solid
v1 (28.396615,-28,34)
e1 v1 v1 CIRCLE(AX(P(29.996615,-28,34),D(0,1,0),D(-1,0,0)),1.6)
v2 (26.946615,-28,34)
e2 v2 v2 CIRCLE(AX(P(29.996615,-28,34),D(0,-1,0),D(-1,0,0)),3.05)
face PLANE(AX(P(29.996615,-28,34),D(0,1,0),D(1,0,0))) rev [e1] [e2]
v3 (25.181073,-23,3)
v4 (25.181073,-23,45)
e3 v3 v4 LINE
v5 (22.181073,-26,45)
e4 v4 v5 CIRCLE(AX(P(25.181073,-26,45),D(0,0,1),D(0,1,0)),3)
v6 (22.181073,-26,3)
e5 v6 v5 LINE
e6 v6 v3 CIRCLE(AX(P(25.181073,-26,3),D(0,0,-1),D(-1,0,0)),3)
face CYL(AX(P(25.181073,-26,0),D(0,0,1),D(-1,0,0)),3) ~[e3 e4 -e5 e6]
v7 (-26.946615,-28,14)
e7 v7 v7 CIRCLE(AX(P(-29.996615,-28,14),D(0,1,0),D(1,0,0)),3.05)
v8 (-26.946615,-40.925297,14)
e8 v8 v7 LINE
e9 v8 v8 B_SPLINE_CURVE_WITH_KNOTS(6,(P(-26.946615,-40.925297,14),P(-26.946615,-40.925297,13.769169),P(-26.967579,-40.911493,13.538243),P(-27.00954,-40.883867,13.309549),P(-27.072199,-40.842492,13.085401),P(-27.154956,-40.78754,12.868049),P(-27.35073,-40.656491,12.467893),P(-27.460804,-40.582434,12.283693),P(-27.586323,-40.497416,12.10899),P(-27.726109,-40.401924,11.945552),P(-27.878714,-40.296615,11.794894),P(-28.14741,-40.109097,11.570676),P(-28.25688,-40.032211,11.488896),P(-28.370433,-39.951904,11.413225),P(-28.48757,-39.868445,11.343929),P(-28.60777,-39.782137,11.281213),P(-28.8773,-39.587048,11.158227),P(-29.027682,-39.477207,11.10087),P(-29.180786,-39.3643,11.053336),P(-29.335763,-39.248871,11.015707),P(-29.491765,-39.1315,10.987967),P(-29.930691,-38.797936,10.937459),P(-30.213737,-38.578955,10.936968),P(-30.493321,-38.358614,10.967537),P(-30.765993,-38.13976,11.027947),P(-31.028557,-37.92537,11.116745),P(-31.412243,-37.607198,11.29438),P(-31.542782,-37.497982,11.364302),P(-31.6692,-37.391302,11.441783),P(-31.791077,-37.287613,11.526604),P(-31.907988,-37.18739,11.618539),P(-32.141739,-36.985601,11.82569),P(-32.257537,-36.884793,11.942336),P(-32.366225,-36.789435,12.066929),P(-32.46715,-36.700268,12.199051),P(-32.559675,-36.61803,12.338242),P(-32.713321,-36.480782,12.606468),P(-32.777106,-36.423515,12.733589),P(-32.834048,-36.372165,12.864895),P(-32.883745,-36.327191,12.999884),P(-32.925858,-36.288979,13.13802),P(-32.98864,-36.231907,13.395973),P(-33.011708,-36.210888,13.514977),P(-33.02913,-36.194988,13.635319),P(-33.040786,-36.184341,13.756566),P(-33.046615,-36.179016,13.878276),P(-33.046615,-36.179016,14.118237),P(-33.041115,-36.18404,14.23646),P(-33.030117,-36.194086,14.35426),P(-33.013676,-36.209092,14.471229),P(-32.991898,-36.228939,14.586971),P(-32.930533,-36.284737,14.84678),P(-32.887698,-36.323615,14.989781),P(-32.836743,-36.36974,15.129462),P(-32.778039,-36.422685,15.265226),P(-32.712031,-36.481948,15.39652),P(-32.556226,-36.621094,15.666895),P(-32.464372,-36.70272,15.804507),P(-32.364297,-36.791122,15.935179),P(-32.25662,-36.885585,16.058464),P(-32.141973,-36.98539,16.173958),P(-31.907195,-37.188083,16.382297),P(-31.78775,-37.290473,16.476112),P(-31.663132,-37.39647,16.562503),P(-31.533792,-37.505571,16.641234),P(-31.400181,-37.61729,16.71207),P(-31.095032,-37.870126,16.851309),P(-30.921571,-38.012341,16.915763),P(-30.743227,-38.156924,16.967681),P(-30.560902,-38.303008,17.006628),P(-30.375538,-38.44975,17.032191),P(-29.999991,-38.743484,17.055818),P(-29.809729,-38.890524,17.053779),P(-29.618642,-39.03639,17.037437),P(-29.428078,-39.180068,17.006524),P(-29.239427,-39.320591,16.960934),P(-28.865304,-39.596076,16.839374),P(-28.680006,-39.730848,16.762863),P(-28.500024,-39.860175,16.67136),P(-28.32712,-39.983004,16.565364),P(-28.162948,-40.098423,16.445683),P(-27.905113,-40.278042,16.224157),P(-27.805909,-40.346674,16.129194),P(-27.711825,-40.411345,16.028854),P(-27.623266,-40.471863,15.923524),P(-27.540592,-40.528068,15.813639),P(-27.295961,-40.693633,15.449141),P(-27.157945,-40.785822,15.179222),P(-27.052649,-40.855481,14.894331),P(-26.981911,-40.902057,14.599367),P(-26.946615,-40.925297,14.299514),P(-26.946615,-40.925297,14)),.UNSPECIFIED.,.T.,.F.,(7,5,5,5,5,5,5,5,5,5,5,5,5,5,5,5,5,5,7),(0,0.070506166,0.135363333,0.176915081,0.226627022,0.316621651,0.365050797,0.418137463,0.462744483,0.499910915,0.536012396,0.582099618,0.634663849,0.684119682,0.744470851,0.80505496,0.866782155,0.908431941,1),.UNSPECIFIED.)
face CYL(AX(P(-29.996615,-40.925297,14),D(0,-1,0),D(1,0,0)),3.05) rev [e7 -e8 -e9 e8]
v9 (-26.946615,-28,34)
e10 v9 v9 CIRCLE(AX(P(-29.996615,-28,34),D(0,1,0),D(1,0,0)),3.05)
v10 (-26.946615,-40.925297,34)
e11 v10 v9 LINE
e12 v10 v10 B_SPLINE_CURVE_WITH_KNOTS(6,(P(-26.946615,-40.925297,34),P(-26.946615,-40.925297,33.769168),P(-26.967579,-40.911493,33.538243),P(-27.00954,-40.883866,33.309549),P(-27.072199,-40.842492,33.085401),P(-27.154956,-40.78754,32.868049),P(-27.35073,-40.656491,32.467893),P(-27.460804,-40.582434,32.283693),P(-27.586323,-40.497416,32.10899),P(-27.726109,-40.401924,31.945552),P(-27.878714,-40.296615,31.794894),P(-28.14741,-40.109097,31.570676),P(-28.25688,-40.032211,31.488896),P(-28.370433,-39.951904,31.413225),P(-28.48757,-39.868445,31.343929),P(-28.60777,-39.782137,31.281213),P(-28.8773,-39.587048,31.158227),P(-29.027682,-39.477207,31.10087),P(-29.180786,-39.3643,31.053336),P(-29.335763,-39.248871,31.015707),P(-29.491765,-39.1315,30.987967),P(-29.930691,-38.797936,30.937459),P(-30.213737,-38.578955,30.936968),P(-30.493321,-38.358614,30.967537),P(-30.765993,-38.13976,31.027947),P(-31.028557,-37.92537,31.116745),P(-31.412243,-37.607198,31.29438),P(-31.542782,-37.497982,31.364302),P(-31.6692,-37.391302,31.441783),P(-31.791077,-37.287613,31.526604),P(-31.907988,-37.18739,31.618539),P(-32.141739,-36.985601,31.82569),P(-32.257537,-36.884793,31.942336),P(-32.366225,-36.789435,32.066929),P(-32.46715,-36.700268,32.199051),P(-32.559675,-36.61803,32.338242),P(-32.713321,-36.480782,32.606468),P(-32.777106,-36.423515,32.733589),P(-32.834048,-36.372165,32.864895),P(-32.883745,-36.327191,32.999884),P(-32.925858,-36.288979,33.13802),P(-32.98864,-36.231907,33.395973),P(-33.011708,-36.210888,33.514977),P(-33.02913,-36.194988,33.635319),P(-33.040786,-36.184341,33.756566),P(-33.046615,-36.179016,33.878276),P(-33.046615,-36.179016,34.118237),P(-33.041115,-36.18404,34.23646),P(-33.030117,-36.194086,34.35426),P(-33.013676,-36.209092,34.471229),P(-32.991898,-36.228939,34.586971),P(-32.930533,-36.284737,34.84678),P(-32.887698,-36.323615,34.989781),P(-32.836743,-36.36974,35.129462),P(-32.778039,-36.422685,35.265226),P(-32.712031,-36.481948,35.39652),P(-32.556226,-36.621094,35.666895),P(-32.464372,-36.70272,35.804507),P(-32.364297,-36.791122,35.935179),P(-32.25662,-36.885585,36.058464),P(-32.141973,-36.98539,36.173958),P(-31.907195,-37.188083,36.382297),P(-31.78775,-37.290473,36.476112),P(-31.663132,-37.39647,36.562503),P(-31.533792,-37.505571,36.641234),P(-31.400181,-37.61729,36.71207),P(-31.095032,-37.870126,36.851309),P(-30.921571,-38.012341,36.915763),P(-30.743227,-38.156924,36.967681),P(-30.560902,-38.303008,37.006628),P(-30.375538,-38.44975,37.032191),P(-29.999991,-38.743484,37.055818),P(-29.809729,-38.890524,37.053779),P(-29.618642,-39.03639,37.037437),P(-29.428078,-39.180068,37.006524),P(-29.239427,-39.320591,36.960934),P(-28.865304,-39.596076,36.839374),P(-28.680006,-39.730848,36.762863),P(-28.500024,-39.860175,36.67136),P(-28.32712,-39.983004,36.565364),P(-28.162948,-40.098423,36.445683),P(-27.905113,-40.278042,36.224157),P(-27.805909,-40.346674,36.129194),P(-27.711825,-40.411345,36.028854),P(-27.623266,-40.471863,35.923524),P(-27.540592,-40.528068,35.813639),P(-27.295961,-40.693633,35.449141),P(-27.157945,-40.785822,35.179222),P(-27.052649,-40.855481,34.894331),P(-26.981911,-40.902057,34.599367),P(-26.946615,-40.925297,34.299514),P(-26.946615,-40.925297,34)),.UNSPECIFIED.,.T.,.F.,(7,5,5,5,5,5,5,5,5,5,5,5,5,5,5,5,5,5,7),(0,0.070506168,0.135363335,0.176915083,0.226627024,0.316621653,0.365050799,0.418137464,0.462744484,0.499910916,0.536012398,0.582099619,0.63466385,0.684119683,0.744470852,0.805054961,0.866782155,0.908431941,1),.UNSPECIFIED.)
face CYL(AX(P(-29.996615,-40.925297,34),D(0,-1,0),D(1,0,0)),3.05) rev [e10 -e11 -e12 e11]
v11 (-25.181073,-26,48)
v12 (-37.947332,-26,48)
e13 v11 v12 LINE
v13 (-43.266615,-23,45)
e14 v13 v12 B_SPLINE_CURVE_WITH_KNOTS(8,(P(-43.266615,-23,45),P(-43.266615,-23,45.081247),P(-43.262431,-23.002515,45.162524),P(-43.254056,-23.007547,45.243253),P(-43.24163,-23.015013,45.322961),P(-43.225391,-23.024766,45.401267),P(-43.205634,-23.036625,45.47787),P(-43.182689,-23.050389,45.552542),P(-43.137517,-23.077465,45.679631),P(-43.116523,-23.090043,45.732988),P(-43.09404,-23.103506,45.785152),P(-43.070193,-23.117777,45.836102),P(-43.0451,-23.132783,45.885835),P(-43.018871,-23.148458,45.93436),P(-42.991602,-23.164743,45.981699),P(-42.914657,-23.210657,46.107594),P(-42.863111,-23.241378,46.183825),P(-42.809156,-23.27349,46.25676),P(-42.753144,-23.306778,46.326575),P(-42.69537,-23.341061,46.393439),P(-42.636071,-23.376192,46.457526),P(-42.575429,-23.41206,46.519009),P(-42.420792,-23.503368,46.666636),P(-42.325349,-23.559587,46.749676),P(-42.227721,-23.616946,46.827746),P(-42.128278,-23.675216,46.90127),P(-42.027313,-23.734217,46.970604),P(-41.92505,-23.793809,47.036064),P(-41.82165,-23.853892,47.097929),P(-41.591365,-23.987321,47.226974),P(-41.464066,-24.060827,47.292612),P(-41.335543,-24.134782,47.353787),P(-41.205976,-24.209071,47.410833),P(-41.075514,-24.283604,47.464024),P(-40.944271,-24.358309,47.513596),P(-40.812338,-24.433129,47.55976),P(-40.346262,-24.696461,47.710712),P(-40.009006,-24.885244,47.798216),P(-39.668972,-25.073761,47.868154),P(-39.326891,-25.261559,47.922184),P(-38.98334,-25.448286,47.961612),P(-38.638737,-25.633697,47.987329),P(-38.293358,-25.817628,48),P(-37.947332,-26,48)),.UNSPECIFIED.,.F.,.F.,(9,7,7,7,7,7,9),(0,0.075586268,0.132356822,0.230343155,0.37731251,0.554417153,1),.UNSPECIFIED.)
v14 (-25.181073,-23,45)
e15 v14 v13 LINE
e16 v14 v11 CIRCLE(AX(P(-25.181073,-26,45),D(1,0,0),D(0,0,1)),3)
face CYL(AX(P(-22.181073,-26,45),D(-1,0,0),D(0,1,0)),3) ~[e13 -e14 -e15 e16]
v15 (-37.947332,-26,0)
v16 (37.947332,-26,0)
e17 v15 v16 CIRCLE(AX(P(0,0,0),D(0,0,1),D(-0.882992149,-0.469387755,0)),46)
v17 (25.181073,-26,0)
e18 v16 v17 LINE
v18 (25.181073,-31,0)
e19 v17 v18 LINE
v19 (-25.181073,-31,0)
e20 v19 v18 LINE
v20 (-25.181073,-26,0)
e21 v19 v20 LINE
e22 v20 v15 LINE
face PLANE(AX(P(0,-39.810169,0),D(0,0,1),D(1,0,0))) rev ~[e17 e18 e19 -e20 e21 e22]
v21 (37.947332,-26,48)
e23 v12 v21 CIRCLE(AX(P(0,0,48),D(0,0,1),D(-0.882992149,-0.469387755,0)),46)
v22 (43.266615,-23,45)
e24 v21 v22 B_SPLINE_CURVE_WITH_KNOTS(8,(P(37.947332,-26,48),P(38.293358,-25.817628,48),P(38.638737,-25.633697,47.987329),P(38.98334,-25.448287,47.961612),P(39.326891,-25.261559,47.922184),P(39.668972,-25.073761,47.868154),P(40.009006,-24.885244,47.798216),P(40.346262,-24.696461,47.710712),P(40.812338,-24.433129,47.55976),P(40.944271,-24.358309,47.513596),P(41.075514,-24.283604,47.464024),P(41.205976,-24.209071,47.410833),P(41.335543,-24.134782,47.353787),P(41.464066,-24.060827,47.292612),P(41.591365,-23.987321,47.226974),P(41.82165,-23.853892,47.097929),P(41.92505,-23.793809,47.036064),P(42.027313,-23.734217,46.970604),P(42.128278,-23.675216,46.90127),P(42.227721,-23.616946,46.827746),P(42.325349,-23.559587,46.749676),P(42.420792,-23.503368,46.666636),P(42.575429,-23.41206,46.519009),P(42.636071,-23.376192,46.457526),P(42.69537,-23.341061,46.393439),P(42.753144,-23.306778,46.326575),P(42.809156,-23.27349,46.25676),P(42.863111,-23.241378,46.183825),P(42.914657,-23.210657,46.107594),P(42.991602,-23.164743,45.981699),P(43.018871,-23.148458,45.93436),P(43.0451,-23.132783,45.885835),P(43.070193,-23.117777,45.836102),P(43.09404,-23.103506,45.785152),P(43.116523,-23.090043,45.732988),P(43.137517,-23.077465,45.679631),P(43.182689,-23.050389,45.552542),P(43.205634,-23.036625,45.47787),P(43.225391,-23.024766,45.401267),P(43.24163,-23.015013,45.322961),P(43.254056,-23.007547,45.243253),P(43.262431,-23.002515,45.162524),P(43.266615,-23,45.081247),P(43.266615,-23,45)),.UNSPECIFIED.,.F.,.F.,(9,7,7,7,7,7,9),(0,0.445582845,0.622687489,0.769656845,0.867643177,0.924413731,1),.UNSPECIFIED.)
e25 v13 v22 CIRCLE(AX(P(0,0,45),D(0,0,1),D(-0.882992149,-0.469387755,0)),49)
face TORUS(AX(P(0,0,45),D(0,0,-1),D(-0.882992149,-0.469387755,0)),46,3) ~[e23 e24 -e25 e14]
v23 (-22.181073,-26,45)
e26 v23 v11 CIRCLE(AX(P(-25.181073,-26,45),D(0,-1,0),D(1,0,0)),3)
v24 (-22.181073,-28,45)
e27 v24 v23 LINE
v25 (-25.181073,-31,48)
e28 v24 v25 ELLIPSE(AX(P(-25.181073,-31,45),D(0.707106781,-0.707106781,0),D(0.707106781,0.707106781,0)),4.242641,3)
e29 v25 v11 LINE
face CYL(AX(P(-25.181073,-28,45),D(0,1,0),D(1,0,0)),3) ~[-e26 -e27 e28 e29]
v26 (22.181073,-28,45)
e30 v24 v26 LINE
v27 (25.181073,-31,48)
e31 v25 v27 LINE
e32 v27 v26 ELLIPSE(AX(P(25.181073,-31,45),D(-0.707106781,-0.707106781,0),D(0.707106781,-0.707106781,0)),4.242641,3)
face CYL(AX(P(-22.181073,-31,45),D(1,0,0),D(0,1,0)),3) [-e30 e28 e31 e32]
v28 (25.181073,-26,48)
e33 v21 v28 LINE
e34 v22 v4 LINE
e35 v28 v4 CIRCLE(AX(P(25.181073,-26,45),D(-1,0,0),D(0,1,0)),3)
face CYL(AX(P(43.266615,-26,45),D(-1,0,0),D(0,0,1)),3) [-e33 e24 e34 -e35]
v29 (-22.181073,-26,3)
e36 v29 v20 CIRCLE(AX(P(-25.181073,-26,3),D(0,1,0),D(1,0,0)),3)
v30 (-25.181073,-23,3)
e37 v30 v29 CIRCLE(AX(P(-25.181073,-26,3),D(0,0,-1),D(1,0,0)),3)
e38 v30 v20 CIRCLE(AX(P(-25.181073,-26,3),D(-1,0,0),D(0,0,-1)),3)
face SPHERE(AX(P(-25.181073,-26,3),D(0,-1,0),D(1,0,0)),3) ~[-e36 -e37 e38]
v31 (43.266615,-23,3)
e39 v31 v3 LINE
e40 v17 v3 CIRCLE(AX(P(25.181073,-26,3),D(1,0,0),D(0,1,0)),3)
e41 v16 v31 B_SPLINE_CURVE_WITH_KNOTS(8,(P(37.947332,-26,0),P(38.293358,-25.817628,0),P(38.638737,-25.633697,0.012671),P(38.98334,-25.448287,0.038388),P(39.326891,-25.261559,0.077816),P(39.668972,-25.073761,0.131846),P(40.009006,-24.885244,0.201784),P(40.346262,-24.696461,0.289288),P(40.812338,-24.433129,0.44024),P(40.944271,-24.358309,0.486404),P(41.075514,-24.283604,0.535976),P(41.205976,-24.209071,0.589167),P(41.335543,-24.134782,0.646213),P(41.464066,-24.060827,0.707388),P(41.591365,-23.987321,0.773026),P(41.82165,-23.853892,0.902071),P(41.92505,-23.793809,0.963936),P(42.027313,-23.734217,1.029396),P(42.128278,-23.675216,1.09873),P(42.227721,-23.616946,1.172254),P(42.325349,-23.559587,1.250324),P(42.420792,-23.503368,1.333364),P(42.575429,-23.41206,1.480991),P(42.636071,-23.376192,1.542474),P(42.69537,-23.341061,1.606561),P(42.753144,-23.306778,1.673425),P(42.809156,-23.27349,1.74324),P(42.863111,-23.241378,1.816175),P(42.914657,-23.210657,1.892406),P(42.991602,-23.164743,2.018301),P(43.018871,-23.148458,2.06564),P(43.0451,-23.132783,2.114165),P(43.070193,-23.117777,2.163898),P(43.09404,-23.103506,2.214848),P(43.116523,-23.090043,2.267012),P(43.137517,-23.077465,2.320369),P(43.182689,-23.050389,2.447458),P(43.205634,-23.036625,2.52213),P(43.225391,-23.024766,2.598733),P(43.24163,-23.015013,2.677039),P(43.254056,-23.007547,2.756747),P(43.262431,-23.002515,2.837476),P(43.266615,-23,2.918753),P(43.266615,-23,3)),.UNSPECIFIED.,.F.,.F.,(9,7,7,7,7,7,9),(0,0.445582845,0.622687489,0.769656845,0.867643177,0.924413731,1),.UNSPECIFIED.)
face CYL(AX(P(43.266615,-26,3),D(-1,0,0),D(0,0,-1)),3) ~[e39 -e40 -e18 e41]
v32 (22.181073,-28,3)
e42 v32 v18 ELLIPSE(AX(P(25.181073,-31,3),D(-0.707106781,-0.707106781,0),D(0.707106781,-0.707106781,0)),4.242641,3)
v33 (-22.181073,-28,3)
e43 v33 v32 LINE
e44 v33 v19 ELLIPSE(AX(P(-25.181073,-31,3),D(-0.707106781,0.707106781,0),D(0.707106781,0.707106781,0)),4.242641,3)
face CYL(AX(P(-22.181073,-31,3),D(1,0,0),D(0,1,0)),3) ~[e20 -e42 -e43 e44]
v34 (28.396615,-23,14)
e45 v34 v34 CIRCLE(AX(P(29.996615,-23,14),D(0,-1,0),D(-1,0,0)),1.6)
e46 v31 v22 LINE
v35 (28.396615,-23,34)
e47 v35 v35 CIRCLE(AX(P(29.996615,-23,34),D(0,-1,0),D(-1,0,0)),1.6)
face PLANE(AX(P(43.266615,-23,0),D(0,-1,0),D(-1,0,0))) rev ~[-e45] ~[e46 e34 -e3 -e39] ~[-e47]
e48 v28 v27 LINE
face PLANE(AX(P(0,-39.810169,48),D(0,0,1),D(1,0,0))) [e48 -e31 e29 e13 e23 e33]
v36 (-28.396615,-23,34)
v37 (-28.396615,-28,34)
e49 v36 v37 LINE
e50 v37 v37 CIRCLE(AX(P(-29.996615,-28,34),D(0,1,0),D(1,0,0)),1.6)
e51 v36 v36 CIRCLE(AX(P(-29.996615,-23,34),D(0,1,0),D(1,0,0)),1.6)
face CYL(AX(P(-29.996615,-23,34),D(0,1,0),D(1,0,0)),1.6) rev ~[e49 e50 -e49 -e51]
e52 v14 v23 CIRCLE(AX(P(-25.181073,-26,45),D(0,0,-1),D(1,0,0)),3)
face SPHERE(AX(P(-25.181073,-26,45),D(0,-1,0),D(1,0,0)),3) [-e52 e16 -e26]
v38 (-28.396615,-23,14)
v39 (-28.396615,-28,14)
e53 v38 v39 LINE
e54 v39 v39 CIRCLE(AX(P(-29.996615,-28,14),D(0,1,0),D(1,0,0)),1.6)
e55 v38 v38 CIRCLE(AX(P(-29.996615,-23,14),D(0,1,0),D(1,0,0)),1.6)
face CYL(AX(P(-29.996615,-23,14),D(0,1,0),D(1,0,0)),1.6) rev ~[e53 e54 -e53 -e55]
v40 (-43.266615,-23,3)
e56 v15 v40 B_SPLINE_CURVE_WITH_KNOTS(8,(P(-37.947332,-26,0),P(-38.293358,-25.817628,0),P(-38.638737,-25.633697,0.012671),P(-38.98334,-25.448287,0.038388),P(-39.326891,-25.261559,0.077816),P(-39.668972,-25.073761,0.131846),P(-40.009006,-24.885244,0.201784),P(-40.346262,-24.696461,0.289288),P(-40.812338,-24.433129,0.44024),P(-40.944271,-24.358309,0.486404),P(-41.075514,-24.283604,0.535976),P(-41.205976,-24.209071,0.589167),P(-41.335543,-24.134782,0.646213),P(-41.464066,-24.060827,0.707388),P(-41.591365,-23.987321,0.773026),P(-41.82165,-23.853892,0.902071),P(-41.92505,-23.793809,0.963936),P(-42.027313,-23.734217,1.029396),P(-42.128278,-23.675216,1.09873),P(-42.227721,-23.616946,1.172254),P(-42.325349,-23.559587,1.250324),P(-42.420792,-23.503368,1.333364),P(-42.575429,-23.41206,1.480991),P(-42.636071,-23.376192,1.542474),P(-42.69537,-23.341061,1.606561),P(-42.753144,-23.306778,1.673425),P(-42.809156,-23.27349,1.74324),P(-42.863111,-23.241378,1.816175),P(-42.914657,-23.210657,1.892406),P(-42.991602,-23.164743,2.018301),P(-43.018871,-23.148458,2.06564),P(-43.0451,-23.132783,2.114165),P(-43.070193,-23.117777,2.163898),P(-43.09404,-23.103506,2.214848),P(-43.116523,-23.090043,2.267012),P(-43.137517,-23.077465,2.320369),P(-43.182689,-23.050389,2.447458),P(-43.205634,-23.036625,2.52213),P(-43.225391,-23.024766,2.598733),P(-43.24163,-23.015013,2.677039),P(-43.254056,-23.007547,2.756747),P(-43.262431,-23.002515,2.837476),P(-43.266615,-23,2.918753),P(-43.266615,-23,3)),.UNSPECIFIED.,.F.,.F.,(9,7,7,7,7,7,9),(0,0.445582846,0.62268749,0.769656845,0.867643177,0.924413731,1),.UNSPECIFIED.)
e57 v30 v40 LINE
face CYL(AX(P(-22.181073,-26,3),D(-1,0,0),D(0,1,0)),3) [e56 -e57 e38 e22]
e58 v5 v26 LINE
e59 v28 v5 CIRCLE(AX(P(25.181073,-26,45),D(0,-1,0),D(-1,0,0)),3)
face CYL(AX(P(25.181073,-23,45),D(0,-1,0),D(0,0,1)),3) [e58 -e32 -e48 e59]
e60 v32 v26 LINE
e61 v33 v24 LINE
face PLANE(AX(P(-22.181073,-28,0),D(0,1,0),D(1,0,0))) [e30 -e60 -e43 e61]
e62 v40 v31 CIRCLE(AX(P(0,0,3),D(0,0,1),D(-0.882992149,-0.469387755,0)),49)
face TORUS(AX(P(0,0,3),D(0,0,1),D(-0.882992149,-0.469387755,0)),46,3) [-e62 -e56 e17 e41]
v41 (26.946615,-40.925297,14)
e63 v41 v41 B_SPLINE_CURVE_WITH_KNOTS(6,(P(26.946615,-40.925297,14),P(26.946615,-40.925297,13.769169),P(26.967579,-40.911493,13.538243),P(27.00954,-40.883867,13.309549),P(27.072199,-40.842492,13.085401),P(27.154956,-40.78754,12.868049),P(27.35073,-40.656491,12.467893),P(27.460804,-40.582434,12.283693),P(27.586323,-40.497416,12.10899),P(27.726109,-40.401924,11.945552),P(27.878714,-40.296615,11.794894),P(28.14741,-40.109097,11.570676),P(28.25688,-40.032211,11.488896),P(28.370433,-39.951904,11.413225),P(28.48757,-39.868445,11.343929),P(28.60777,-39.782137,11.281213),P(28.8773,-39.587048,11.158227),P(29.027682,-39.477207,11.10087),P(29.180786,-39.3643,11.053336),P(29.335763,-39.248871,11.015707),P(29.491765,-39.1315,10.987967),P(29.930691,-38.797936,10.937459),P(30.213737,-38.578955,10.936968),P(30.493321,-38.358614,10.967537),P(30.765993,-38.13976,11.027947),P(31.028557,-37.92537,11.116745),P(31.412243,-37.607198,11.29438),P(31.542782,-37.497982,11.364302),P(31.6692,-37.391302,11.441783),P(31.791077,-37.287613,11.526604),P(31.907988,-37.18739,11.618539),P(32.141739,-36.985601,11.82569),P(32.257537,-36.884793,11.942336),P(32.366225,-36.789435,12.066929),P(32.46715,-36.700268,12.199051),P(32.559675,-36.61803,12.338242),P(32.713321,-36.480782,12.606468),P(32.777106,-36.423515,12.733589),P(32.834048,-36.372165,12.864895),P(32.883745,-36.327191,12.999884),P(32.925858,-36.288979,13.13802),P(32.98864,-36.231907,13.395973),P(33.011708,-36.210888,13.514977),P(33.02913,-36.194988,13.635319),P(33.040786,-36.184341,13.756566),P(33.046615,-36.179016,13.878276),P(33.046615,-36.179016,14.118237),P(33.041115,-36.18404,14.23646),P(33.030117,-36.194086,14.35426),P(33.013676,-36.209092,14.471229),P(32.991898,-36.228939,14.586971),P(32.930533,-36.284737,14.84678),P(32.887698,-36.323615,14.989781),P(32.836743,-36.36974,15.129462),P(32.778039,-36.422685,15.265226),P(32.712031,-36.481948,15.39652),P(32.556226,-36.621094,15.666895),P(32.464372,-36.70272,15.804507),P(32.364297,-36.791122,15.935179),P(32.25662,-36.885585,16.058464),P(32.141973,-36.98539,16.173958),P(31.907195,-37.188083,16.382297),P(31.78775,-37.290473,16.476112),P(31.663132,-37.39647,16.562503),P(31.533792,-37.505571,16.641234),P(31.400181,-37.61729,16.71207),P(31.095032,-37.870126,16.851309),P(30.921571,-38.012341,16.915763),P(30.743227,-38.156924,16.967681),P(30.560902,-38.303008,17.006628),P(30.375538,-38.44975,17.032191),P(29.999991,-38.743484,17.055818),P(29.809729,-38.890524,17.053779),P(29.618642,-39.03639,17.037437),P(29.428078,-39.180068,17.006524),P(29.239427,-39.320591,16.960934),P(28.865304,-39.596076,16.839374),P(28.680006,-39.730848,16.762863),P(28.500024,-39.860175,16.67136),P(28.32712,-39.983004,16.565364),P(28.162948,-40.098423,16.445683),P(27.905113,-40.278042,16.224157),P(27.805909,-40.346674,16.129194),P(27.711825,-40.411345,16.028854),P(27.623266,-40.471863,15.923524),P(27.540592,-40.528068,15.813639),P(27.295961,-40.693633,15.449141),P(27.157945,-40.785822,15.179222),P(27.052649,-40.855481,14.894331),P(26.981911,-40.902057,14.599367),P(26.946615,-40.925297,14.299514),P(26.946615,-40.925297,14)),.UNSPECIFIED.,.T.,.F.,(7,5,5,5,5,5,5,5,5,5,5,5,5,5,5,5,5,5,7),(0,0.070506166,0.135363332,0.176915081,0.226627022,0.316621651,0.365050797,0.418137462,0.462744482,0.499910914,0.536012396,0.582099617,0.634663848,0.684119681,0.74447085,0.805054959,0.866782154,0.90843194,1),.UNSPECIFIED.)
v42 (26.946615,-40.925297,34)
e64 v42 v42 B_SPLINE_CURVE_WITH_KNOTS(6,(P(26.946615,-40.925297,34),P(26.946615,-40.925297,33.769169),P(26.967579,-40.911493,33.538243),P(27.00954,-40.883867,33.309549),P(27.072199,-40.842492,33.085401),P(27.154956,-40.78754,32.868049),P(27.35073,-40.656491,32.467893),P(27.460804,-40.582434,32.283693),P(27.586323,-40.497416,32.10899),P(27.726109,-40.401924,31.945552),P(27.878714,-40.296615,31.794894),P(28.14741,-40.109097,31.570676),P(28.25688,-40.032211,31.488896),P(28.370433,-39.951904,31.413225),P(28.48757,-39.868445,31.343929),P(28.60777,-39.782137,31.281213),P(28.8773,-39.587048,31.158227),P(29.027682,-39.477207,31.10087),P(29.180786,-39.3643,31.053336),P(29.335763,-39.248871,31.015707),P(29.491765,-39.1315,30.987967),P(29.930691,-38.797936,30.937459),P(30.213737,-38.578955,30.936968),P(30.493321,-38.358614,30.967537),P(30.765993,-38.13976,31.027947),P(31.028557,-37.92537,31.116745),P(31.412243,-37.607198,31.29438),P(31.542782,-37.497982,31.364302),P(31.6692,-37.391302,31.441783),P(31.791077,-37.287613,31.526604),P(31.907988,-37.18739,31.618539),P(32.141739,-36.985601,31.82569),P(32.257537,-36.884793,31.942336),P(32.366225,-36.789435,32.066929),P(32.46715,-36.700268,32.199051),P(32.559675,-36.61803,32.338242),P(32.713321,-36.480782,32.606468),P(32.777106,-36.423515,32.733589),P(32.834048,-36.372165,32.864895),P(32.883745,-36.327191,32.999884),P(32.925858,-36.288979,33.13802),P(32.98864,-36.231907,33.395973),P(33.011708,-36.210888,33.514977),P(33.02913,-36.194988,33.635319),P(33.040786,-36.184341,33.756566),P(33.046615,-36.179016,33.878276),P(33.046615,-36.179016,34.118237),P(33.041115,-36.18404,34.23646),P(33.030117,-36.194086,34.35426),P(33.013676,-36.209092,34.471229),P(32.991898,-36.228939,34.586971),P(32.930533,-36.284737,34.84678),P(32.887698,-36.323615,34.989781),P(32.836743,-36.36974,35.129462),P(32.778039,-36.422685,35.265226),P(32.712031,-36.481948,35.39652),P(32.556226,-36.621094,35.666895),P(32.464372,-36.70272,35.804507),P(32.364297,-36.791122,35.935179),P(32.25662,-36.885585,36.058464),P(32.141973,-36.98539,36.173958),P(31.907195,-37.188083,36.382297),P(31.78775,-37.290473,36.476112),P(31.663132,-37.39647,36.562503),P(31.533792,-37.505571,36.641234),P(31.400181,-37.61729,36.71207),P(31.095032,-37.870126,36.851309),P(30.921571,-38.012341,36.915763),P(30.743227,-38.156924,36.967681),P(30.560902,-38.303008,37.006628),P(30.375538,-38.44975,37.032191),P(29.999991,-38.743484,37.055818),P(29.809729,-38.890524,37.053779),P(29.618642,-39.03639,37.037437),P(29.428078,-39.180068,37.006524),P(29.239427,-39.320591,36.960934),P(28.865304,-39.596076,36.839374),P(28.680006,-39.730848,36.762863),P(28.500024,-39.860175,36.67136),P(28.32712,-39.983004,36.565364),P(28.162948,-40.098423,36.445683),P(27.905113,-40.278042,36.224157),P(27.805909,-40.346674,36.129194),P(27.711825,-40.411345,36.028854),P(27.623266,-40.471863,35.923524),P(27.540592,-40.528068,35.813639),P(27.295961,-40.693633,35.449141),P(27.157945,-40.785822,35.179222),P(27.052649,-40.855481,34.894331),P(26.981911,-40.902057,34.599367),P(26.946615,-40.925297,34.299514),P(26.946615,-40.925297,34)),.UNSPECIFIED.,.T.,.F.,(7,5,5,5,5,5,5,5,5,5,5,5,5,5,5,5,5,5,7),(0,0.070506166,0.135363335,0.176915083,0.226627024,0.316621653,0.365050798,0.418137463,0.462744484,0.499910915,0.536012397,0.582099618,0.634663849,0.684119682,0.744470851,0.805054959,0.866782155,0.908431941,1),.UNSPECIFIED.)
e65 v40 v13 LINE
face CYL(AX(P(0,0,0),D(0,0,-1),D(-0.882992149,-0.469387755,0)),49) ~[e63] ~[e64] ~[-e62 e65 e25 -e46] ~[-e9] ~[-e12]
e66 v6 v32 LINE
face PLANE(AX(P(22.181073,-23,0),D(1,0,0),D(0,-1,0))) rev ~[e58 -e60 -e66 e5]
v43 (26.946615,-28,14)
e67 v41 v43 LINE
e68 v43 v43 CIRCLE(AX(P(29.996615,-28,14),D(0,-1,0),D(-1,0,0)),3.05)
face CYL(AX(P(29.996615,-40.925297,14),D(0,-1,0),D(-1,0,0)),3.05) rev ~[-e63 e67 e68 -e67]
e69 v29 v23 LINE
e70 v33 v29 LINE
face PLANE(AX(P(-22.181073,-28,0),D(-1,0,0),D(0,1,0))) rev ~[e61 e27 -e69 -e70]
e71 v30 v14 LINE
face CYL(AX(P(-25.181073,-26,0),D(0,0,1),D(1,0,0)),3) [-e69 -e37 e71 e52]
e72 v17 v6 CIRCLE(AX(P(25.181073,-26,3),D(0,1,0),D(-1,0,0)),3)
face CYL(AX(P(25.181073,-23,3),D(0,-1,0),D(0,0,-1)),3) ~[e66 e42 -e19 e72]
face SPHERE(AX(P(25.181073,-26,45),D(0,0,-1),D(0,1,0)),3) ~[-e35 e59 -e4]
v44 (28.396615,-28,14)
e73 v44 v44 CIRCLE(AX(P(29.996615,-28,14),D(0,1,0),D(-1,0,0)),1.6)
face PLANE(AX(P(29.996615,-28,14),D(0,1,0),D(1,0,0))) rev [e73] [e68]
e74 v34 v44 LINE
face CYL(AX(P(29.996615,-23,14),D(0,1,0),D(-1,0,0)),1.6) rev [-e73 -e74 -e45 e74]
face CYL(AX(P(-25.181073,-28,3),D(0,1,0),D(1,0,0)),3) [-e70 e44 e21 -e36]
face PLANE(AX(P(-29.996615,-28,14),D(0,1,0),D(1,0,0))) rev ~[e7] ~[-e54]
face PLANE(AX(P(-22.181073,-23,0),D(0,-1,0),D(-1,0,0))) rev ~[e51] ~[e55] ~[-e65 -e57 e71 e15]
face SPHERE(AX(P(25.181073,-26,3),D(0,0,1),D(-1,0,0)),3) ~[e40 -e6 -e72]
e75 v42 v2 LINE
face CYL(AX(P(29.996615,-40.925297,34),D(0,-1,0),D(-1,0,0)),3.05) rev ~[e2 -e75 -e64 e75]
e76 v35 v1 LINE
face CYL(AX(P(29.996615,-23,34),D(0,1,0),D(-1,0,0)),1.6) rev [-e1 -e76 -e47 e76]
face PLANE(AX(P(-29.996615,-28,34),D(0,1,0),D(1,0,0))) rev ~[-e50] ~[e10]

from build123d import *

# Parameters (mm, degrees)
SKETCH1_W           = 44.362146026
SKETCH1_H           = 10
BOSS_EXTRUDE1_DEPTH = 48
SKETCH2_R           = 1.6
CUT_EXTRUDE1_DEPTH  = 27
CUT_EXTRUDE2_START  = -17.925297
SKETCH3_R           = 3.05
CUT_EXTRUDE2_DEPTH  = 12.925297
FILLET1_R           = 3


with BuildPart() as part:
    # Sketch1 → Boss-Extrude1 (new body)
    with BuildSketch(Plane.XY):
        with BuildLine():
            Line((22.181073013, -38), (-22.181073013, -38))
            ThreePointArc((-22.181073013, -38), (0, -44), (22.181073013, -38))
        make_face()
        with BuildLine():
            Line((-37.509998667, -23), (-43.266615306, -23))
            ThreePointArc((-43.266615306, -23), (0, -49), (43.266615306, -23))
            Line((43.266615306, -23), (37.509998667, -23))
            ThreePointArc((37.509998667, -23), (35.812927639, -25.562359318), (33.941125497, -28))
            ThreePointArc((33.941125497, -28), (28.503075122, -33.519765939), (22.181073013, -38))
            ThreePointArc((22.181073013, -38), (0, -44), (-22.181073013, -38))
            ThreePointArc((-22.181073013, -38), (-28.503075122, -33.519765939), (-33.941125497, -28))
            ThreePointArc((-33.941125497, -28), (-35.812927639, -25.562359318), (-37.509998667, -23))
        make_face()
        with BuildLine():
            Line((-29.953929645, -23), (-37.509998667, -23))
            ThreePointArc((-37.509998667, -23), (-35.812927639, -25.562359318), (-33.941125497, -28))
            Line((-33.941125497, -28), (-22.181073013, -28))
            Line((-22.181073013, -28), (-22.181073013, -23))
            Line((-22.181073013, -23), (-29.953929645, -23))
        make_face()
        with BuildLine():
            Line((-22.181073013, -28), (-33.941125497, -28))
            ThreePointArc((-33.941125497, -28), (-28.503075122, -33.519765939), (-22.181073013, -38))
            Line((-22.181073013, -38), (-22.181073013, -28))
        make_face()
        with BuildLine():
            ThreePointArc((33.941125497, -28), (35.812927639, -25.562359318), (37.509998667, -23))
            Line((37.509998667, -23), (22.181073013, -23))
            Line((22.181073013, -23), (22.181073013, -28))
            Line((22.181073013, -28), (33.941125497, -28))
        make_face()
        with BuildLine():
            ThreePointArc((22.181073013, -38), (28.503075122, -33.519765939), (33.941125497, -28))
            Line((33.941125497, -28), (22.181073013, -28))
            Line((22.181073013, -28), (22.181073013, -38))
        make_face()
        with Locations((0, -33)):
            Rectangle(SKETCH1_W, SKETCH1_H)
    extrude(amount=BOSS_EXTRUDE1_DEPTH)

    # Sketch2 → Cut-Extrude1 (cut, through all)
    with BuildSketch(Plane(origin=(0, -23, 0), x_dir=(1, 0, 0), z_dir=(0, 1, 0))):
        with Locations((-29.996615306, -14)):
            Circle(SKETCH2_R)
        with Locations((-29.996615306, -34)):
            Circle(SKETCH2_R)
    cut_extrude1 = extrude(amount=-CUT_EXTRUDE1_DEPTH, mode=Mode.SUBTRACT)

    # Sketch3 → Cut-Extrude2 (cut)
    with BuildSketch(Plane(origin=(0, -23, 0), x_dir=(1, 0, 0), z_dir=(0, 1, 0)).offset(CUT_EXTRUDE2_START)):
        with Locations((-29.996615306, -14)):
            Circle(SKETCH3_R)
        with Locations((-29.996615306, -34)):
            Circle(SKETCH3_R)
    cut_extrude2 = extrude(amount=CUT_EXTRUDE2_DEPTH, mode=Mode.SUBTRACT)

    # Mirror1: Cut-Extrude1, Cut-Extrude2 across plane
    add(cut_extrude1.mirror(Plane(origin=(0, 0, 0), x_dir=(0, 0, 1), z_dir=(1, 0, 0))), mode=Mode.SUBTRACT)
    add(cut_extrude2.mirror(Plane(origin=(0, 0, 0), x_dir=(0, 0, 1), z_dir=(1, 0, 0))), mode=Mode.SUBTRACT)

    # Fillet1
    fillet1_edges = [part.edges().sort_by_distance(p)[0] for p in [
        (-22.181073013, -25.5, 48),
        (-22.181073013, -25.5, 0),
        (0, -28, 0),
        (22.181073013, -23, 24),
        (-22.181073013, -23, 24),
        (-32.723844159, -23, 48),
        (0, -49, 48),
        (32.723844159, -23, 48),
        (22.181073013, -25.5, 48),
        (0, -28, 48),
        (22.181073013, -25.5, 0),
        (32.723844159, -23, 0),
        (0, -49, 0),
        (-32.723844159, -23, 0),
    ]]
    fillet(fillet1_edges, radius=FILLET1_R)


solid = part.part
